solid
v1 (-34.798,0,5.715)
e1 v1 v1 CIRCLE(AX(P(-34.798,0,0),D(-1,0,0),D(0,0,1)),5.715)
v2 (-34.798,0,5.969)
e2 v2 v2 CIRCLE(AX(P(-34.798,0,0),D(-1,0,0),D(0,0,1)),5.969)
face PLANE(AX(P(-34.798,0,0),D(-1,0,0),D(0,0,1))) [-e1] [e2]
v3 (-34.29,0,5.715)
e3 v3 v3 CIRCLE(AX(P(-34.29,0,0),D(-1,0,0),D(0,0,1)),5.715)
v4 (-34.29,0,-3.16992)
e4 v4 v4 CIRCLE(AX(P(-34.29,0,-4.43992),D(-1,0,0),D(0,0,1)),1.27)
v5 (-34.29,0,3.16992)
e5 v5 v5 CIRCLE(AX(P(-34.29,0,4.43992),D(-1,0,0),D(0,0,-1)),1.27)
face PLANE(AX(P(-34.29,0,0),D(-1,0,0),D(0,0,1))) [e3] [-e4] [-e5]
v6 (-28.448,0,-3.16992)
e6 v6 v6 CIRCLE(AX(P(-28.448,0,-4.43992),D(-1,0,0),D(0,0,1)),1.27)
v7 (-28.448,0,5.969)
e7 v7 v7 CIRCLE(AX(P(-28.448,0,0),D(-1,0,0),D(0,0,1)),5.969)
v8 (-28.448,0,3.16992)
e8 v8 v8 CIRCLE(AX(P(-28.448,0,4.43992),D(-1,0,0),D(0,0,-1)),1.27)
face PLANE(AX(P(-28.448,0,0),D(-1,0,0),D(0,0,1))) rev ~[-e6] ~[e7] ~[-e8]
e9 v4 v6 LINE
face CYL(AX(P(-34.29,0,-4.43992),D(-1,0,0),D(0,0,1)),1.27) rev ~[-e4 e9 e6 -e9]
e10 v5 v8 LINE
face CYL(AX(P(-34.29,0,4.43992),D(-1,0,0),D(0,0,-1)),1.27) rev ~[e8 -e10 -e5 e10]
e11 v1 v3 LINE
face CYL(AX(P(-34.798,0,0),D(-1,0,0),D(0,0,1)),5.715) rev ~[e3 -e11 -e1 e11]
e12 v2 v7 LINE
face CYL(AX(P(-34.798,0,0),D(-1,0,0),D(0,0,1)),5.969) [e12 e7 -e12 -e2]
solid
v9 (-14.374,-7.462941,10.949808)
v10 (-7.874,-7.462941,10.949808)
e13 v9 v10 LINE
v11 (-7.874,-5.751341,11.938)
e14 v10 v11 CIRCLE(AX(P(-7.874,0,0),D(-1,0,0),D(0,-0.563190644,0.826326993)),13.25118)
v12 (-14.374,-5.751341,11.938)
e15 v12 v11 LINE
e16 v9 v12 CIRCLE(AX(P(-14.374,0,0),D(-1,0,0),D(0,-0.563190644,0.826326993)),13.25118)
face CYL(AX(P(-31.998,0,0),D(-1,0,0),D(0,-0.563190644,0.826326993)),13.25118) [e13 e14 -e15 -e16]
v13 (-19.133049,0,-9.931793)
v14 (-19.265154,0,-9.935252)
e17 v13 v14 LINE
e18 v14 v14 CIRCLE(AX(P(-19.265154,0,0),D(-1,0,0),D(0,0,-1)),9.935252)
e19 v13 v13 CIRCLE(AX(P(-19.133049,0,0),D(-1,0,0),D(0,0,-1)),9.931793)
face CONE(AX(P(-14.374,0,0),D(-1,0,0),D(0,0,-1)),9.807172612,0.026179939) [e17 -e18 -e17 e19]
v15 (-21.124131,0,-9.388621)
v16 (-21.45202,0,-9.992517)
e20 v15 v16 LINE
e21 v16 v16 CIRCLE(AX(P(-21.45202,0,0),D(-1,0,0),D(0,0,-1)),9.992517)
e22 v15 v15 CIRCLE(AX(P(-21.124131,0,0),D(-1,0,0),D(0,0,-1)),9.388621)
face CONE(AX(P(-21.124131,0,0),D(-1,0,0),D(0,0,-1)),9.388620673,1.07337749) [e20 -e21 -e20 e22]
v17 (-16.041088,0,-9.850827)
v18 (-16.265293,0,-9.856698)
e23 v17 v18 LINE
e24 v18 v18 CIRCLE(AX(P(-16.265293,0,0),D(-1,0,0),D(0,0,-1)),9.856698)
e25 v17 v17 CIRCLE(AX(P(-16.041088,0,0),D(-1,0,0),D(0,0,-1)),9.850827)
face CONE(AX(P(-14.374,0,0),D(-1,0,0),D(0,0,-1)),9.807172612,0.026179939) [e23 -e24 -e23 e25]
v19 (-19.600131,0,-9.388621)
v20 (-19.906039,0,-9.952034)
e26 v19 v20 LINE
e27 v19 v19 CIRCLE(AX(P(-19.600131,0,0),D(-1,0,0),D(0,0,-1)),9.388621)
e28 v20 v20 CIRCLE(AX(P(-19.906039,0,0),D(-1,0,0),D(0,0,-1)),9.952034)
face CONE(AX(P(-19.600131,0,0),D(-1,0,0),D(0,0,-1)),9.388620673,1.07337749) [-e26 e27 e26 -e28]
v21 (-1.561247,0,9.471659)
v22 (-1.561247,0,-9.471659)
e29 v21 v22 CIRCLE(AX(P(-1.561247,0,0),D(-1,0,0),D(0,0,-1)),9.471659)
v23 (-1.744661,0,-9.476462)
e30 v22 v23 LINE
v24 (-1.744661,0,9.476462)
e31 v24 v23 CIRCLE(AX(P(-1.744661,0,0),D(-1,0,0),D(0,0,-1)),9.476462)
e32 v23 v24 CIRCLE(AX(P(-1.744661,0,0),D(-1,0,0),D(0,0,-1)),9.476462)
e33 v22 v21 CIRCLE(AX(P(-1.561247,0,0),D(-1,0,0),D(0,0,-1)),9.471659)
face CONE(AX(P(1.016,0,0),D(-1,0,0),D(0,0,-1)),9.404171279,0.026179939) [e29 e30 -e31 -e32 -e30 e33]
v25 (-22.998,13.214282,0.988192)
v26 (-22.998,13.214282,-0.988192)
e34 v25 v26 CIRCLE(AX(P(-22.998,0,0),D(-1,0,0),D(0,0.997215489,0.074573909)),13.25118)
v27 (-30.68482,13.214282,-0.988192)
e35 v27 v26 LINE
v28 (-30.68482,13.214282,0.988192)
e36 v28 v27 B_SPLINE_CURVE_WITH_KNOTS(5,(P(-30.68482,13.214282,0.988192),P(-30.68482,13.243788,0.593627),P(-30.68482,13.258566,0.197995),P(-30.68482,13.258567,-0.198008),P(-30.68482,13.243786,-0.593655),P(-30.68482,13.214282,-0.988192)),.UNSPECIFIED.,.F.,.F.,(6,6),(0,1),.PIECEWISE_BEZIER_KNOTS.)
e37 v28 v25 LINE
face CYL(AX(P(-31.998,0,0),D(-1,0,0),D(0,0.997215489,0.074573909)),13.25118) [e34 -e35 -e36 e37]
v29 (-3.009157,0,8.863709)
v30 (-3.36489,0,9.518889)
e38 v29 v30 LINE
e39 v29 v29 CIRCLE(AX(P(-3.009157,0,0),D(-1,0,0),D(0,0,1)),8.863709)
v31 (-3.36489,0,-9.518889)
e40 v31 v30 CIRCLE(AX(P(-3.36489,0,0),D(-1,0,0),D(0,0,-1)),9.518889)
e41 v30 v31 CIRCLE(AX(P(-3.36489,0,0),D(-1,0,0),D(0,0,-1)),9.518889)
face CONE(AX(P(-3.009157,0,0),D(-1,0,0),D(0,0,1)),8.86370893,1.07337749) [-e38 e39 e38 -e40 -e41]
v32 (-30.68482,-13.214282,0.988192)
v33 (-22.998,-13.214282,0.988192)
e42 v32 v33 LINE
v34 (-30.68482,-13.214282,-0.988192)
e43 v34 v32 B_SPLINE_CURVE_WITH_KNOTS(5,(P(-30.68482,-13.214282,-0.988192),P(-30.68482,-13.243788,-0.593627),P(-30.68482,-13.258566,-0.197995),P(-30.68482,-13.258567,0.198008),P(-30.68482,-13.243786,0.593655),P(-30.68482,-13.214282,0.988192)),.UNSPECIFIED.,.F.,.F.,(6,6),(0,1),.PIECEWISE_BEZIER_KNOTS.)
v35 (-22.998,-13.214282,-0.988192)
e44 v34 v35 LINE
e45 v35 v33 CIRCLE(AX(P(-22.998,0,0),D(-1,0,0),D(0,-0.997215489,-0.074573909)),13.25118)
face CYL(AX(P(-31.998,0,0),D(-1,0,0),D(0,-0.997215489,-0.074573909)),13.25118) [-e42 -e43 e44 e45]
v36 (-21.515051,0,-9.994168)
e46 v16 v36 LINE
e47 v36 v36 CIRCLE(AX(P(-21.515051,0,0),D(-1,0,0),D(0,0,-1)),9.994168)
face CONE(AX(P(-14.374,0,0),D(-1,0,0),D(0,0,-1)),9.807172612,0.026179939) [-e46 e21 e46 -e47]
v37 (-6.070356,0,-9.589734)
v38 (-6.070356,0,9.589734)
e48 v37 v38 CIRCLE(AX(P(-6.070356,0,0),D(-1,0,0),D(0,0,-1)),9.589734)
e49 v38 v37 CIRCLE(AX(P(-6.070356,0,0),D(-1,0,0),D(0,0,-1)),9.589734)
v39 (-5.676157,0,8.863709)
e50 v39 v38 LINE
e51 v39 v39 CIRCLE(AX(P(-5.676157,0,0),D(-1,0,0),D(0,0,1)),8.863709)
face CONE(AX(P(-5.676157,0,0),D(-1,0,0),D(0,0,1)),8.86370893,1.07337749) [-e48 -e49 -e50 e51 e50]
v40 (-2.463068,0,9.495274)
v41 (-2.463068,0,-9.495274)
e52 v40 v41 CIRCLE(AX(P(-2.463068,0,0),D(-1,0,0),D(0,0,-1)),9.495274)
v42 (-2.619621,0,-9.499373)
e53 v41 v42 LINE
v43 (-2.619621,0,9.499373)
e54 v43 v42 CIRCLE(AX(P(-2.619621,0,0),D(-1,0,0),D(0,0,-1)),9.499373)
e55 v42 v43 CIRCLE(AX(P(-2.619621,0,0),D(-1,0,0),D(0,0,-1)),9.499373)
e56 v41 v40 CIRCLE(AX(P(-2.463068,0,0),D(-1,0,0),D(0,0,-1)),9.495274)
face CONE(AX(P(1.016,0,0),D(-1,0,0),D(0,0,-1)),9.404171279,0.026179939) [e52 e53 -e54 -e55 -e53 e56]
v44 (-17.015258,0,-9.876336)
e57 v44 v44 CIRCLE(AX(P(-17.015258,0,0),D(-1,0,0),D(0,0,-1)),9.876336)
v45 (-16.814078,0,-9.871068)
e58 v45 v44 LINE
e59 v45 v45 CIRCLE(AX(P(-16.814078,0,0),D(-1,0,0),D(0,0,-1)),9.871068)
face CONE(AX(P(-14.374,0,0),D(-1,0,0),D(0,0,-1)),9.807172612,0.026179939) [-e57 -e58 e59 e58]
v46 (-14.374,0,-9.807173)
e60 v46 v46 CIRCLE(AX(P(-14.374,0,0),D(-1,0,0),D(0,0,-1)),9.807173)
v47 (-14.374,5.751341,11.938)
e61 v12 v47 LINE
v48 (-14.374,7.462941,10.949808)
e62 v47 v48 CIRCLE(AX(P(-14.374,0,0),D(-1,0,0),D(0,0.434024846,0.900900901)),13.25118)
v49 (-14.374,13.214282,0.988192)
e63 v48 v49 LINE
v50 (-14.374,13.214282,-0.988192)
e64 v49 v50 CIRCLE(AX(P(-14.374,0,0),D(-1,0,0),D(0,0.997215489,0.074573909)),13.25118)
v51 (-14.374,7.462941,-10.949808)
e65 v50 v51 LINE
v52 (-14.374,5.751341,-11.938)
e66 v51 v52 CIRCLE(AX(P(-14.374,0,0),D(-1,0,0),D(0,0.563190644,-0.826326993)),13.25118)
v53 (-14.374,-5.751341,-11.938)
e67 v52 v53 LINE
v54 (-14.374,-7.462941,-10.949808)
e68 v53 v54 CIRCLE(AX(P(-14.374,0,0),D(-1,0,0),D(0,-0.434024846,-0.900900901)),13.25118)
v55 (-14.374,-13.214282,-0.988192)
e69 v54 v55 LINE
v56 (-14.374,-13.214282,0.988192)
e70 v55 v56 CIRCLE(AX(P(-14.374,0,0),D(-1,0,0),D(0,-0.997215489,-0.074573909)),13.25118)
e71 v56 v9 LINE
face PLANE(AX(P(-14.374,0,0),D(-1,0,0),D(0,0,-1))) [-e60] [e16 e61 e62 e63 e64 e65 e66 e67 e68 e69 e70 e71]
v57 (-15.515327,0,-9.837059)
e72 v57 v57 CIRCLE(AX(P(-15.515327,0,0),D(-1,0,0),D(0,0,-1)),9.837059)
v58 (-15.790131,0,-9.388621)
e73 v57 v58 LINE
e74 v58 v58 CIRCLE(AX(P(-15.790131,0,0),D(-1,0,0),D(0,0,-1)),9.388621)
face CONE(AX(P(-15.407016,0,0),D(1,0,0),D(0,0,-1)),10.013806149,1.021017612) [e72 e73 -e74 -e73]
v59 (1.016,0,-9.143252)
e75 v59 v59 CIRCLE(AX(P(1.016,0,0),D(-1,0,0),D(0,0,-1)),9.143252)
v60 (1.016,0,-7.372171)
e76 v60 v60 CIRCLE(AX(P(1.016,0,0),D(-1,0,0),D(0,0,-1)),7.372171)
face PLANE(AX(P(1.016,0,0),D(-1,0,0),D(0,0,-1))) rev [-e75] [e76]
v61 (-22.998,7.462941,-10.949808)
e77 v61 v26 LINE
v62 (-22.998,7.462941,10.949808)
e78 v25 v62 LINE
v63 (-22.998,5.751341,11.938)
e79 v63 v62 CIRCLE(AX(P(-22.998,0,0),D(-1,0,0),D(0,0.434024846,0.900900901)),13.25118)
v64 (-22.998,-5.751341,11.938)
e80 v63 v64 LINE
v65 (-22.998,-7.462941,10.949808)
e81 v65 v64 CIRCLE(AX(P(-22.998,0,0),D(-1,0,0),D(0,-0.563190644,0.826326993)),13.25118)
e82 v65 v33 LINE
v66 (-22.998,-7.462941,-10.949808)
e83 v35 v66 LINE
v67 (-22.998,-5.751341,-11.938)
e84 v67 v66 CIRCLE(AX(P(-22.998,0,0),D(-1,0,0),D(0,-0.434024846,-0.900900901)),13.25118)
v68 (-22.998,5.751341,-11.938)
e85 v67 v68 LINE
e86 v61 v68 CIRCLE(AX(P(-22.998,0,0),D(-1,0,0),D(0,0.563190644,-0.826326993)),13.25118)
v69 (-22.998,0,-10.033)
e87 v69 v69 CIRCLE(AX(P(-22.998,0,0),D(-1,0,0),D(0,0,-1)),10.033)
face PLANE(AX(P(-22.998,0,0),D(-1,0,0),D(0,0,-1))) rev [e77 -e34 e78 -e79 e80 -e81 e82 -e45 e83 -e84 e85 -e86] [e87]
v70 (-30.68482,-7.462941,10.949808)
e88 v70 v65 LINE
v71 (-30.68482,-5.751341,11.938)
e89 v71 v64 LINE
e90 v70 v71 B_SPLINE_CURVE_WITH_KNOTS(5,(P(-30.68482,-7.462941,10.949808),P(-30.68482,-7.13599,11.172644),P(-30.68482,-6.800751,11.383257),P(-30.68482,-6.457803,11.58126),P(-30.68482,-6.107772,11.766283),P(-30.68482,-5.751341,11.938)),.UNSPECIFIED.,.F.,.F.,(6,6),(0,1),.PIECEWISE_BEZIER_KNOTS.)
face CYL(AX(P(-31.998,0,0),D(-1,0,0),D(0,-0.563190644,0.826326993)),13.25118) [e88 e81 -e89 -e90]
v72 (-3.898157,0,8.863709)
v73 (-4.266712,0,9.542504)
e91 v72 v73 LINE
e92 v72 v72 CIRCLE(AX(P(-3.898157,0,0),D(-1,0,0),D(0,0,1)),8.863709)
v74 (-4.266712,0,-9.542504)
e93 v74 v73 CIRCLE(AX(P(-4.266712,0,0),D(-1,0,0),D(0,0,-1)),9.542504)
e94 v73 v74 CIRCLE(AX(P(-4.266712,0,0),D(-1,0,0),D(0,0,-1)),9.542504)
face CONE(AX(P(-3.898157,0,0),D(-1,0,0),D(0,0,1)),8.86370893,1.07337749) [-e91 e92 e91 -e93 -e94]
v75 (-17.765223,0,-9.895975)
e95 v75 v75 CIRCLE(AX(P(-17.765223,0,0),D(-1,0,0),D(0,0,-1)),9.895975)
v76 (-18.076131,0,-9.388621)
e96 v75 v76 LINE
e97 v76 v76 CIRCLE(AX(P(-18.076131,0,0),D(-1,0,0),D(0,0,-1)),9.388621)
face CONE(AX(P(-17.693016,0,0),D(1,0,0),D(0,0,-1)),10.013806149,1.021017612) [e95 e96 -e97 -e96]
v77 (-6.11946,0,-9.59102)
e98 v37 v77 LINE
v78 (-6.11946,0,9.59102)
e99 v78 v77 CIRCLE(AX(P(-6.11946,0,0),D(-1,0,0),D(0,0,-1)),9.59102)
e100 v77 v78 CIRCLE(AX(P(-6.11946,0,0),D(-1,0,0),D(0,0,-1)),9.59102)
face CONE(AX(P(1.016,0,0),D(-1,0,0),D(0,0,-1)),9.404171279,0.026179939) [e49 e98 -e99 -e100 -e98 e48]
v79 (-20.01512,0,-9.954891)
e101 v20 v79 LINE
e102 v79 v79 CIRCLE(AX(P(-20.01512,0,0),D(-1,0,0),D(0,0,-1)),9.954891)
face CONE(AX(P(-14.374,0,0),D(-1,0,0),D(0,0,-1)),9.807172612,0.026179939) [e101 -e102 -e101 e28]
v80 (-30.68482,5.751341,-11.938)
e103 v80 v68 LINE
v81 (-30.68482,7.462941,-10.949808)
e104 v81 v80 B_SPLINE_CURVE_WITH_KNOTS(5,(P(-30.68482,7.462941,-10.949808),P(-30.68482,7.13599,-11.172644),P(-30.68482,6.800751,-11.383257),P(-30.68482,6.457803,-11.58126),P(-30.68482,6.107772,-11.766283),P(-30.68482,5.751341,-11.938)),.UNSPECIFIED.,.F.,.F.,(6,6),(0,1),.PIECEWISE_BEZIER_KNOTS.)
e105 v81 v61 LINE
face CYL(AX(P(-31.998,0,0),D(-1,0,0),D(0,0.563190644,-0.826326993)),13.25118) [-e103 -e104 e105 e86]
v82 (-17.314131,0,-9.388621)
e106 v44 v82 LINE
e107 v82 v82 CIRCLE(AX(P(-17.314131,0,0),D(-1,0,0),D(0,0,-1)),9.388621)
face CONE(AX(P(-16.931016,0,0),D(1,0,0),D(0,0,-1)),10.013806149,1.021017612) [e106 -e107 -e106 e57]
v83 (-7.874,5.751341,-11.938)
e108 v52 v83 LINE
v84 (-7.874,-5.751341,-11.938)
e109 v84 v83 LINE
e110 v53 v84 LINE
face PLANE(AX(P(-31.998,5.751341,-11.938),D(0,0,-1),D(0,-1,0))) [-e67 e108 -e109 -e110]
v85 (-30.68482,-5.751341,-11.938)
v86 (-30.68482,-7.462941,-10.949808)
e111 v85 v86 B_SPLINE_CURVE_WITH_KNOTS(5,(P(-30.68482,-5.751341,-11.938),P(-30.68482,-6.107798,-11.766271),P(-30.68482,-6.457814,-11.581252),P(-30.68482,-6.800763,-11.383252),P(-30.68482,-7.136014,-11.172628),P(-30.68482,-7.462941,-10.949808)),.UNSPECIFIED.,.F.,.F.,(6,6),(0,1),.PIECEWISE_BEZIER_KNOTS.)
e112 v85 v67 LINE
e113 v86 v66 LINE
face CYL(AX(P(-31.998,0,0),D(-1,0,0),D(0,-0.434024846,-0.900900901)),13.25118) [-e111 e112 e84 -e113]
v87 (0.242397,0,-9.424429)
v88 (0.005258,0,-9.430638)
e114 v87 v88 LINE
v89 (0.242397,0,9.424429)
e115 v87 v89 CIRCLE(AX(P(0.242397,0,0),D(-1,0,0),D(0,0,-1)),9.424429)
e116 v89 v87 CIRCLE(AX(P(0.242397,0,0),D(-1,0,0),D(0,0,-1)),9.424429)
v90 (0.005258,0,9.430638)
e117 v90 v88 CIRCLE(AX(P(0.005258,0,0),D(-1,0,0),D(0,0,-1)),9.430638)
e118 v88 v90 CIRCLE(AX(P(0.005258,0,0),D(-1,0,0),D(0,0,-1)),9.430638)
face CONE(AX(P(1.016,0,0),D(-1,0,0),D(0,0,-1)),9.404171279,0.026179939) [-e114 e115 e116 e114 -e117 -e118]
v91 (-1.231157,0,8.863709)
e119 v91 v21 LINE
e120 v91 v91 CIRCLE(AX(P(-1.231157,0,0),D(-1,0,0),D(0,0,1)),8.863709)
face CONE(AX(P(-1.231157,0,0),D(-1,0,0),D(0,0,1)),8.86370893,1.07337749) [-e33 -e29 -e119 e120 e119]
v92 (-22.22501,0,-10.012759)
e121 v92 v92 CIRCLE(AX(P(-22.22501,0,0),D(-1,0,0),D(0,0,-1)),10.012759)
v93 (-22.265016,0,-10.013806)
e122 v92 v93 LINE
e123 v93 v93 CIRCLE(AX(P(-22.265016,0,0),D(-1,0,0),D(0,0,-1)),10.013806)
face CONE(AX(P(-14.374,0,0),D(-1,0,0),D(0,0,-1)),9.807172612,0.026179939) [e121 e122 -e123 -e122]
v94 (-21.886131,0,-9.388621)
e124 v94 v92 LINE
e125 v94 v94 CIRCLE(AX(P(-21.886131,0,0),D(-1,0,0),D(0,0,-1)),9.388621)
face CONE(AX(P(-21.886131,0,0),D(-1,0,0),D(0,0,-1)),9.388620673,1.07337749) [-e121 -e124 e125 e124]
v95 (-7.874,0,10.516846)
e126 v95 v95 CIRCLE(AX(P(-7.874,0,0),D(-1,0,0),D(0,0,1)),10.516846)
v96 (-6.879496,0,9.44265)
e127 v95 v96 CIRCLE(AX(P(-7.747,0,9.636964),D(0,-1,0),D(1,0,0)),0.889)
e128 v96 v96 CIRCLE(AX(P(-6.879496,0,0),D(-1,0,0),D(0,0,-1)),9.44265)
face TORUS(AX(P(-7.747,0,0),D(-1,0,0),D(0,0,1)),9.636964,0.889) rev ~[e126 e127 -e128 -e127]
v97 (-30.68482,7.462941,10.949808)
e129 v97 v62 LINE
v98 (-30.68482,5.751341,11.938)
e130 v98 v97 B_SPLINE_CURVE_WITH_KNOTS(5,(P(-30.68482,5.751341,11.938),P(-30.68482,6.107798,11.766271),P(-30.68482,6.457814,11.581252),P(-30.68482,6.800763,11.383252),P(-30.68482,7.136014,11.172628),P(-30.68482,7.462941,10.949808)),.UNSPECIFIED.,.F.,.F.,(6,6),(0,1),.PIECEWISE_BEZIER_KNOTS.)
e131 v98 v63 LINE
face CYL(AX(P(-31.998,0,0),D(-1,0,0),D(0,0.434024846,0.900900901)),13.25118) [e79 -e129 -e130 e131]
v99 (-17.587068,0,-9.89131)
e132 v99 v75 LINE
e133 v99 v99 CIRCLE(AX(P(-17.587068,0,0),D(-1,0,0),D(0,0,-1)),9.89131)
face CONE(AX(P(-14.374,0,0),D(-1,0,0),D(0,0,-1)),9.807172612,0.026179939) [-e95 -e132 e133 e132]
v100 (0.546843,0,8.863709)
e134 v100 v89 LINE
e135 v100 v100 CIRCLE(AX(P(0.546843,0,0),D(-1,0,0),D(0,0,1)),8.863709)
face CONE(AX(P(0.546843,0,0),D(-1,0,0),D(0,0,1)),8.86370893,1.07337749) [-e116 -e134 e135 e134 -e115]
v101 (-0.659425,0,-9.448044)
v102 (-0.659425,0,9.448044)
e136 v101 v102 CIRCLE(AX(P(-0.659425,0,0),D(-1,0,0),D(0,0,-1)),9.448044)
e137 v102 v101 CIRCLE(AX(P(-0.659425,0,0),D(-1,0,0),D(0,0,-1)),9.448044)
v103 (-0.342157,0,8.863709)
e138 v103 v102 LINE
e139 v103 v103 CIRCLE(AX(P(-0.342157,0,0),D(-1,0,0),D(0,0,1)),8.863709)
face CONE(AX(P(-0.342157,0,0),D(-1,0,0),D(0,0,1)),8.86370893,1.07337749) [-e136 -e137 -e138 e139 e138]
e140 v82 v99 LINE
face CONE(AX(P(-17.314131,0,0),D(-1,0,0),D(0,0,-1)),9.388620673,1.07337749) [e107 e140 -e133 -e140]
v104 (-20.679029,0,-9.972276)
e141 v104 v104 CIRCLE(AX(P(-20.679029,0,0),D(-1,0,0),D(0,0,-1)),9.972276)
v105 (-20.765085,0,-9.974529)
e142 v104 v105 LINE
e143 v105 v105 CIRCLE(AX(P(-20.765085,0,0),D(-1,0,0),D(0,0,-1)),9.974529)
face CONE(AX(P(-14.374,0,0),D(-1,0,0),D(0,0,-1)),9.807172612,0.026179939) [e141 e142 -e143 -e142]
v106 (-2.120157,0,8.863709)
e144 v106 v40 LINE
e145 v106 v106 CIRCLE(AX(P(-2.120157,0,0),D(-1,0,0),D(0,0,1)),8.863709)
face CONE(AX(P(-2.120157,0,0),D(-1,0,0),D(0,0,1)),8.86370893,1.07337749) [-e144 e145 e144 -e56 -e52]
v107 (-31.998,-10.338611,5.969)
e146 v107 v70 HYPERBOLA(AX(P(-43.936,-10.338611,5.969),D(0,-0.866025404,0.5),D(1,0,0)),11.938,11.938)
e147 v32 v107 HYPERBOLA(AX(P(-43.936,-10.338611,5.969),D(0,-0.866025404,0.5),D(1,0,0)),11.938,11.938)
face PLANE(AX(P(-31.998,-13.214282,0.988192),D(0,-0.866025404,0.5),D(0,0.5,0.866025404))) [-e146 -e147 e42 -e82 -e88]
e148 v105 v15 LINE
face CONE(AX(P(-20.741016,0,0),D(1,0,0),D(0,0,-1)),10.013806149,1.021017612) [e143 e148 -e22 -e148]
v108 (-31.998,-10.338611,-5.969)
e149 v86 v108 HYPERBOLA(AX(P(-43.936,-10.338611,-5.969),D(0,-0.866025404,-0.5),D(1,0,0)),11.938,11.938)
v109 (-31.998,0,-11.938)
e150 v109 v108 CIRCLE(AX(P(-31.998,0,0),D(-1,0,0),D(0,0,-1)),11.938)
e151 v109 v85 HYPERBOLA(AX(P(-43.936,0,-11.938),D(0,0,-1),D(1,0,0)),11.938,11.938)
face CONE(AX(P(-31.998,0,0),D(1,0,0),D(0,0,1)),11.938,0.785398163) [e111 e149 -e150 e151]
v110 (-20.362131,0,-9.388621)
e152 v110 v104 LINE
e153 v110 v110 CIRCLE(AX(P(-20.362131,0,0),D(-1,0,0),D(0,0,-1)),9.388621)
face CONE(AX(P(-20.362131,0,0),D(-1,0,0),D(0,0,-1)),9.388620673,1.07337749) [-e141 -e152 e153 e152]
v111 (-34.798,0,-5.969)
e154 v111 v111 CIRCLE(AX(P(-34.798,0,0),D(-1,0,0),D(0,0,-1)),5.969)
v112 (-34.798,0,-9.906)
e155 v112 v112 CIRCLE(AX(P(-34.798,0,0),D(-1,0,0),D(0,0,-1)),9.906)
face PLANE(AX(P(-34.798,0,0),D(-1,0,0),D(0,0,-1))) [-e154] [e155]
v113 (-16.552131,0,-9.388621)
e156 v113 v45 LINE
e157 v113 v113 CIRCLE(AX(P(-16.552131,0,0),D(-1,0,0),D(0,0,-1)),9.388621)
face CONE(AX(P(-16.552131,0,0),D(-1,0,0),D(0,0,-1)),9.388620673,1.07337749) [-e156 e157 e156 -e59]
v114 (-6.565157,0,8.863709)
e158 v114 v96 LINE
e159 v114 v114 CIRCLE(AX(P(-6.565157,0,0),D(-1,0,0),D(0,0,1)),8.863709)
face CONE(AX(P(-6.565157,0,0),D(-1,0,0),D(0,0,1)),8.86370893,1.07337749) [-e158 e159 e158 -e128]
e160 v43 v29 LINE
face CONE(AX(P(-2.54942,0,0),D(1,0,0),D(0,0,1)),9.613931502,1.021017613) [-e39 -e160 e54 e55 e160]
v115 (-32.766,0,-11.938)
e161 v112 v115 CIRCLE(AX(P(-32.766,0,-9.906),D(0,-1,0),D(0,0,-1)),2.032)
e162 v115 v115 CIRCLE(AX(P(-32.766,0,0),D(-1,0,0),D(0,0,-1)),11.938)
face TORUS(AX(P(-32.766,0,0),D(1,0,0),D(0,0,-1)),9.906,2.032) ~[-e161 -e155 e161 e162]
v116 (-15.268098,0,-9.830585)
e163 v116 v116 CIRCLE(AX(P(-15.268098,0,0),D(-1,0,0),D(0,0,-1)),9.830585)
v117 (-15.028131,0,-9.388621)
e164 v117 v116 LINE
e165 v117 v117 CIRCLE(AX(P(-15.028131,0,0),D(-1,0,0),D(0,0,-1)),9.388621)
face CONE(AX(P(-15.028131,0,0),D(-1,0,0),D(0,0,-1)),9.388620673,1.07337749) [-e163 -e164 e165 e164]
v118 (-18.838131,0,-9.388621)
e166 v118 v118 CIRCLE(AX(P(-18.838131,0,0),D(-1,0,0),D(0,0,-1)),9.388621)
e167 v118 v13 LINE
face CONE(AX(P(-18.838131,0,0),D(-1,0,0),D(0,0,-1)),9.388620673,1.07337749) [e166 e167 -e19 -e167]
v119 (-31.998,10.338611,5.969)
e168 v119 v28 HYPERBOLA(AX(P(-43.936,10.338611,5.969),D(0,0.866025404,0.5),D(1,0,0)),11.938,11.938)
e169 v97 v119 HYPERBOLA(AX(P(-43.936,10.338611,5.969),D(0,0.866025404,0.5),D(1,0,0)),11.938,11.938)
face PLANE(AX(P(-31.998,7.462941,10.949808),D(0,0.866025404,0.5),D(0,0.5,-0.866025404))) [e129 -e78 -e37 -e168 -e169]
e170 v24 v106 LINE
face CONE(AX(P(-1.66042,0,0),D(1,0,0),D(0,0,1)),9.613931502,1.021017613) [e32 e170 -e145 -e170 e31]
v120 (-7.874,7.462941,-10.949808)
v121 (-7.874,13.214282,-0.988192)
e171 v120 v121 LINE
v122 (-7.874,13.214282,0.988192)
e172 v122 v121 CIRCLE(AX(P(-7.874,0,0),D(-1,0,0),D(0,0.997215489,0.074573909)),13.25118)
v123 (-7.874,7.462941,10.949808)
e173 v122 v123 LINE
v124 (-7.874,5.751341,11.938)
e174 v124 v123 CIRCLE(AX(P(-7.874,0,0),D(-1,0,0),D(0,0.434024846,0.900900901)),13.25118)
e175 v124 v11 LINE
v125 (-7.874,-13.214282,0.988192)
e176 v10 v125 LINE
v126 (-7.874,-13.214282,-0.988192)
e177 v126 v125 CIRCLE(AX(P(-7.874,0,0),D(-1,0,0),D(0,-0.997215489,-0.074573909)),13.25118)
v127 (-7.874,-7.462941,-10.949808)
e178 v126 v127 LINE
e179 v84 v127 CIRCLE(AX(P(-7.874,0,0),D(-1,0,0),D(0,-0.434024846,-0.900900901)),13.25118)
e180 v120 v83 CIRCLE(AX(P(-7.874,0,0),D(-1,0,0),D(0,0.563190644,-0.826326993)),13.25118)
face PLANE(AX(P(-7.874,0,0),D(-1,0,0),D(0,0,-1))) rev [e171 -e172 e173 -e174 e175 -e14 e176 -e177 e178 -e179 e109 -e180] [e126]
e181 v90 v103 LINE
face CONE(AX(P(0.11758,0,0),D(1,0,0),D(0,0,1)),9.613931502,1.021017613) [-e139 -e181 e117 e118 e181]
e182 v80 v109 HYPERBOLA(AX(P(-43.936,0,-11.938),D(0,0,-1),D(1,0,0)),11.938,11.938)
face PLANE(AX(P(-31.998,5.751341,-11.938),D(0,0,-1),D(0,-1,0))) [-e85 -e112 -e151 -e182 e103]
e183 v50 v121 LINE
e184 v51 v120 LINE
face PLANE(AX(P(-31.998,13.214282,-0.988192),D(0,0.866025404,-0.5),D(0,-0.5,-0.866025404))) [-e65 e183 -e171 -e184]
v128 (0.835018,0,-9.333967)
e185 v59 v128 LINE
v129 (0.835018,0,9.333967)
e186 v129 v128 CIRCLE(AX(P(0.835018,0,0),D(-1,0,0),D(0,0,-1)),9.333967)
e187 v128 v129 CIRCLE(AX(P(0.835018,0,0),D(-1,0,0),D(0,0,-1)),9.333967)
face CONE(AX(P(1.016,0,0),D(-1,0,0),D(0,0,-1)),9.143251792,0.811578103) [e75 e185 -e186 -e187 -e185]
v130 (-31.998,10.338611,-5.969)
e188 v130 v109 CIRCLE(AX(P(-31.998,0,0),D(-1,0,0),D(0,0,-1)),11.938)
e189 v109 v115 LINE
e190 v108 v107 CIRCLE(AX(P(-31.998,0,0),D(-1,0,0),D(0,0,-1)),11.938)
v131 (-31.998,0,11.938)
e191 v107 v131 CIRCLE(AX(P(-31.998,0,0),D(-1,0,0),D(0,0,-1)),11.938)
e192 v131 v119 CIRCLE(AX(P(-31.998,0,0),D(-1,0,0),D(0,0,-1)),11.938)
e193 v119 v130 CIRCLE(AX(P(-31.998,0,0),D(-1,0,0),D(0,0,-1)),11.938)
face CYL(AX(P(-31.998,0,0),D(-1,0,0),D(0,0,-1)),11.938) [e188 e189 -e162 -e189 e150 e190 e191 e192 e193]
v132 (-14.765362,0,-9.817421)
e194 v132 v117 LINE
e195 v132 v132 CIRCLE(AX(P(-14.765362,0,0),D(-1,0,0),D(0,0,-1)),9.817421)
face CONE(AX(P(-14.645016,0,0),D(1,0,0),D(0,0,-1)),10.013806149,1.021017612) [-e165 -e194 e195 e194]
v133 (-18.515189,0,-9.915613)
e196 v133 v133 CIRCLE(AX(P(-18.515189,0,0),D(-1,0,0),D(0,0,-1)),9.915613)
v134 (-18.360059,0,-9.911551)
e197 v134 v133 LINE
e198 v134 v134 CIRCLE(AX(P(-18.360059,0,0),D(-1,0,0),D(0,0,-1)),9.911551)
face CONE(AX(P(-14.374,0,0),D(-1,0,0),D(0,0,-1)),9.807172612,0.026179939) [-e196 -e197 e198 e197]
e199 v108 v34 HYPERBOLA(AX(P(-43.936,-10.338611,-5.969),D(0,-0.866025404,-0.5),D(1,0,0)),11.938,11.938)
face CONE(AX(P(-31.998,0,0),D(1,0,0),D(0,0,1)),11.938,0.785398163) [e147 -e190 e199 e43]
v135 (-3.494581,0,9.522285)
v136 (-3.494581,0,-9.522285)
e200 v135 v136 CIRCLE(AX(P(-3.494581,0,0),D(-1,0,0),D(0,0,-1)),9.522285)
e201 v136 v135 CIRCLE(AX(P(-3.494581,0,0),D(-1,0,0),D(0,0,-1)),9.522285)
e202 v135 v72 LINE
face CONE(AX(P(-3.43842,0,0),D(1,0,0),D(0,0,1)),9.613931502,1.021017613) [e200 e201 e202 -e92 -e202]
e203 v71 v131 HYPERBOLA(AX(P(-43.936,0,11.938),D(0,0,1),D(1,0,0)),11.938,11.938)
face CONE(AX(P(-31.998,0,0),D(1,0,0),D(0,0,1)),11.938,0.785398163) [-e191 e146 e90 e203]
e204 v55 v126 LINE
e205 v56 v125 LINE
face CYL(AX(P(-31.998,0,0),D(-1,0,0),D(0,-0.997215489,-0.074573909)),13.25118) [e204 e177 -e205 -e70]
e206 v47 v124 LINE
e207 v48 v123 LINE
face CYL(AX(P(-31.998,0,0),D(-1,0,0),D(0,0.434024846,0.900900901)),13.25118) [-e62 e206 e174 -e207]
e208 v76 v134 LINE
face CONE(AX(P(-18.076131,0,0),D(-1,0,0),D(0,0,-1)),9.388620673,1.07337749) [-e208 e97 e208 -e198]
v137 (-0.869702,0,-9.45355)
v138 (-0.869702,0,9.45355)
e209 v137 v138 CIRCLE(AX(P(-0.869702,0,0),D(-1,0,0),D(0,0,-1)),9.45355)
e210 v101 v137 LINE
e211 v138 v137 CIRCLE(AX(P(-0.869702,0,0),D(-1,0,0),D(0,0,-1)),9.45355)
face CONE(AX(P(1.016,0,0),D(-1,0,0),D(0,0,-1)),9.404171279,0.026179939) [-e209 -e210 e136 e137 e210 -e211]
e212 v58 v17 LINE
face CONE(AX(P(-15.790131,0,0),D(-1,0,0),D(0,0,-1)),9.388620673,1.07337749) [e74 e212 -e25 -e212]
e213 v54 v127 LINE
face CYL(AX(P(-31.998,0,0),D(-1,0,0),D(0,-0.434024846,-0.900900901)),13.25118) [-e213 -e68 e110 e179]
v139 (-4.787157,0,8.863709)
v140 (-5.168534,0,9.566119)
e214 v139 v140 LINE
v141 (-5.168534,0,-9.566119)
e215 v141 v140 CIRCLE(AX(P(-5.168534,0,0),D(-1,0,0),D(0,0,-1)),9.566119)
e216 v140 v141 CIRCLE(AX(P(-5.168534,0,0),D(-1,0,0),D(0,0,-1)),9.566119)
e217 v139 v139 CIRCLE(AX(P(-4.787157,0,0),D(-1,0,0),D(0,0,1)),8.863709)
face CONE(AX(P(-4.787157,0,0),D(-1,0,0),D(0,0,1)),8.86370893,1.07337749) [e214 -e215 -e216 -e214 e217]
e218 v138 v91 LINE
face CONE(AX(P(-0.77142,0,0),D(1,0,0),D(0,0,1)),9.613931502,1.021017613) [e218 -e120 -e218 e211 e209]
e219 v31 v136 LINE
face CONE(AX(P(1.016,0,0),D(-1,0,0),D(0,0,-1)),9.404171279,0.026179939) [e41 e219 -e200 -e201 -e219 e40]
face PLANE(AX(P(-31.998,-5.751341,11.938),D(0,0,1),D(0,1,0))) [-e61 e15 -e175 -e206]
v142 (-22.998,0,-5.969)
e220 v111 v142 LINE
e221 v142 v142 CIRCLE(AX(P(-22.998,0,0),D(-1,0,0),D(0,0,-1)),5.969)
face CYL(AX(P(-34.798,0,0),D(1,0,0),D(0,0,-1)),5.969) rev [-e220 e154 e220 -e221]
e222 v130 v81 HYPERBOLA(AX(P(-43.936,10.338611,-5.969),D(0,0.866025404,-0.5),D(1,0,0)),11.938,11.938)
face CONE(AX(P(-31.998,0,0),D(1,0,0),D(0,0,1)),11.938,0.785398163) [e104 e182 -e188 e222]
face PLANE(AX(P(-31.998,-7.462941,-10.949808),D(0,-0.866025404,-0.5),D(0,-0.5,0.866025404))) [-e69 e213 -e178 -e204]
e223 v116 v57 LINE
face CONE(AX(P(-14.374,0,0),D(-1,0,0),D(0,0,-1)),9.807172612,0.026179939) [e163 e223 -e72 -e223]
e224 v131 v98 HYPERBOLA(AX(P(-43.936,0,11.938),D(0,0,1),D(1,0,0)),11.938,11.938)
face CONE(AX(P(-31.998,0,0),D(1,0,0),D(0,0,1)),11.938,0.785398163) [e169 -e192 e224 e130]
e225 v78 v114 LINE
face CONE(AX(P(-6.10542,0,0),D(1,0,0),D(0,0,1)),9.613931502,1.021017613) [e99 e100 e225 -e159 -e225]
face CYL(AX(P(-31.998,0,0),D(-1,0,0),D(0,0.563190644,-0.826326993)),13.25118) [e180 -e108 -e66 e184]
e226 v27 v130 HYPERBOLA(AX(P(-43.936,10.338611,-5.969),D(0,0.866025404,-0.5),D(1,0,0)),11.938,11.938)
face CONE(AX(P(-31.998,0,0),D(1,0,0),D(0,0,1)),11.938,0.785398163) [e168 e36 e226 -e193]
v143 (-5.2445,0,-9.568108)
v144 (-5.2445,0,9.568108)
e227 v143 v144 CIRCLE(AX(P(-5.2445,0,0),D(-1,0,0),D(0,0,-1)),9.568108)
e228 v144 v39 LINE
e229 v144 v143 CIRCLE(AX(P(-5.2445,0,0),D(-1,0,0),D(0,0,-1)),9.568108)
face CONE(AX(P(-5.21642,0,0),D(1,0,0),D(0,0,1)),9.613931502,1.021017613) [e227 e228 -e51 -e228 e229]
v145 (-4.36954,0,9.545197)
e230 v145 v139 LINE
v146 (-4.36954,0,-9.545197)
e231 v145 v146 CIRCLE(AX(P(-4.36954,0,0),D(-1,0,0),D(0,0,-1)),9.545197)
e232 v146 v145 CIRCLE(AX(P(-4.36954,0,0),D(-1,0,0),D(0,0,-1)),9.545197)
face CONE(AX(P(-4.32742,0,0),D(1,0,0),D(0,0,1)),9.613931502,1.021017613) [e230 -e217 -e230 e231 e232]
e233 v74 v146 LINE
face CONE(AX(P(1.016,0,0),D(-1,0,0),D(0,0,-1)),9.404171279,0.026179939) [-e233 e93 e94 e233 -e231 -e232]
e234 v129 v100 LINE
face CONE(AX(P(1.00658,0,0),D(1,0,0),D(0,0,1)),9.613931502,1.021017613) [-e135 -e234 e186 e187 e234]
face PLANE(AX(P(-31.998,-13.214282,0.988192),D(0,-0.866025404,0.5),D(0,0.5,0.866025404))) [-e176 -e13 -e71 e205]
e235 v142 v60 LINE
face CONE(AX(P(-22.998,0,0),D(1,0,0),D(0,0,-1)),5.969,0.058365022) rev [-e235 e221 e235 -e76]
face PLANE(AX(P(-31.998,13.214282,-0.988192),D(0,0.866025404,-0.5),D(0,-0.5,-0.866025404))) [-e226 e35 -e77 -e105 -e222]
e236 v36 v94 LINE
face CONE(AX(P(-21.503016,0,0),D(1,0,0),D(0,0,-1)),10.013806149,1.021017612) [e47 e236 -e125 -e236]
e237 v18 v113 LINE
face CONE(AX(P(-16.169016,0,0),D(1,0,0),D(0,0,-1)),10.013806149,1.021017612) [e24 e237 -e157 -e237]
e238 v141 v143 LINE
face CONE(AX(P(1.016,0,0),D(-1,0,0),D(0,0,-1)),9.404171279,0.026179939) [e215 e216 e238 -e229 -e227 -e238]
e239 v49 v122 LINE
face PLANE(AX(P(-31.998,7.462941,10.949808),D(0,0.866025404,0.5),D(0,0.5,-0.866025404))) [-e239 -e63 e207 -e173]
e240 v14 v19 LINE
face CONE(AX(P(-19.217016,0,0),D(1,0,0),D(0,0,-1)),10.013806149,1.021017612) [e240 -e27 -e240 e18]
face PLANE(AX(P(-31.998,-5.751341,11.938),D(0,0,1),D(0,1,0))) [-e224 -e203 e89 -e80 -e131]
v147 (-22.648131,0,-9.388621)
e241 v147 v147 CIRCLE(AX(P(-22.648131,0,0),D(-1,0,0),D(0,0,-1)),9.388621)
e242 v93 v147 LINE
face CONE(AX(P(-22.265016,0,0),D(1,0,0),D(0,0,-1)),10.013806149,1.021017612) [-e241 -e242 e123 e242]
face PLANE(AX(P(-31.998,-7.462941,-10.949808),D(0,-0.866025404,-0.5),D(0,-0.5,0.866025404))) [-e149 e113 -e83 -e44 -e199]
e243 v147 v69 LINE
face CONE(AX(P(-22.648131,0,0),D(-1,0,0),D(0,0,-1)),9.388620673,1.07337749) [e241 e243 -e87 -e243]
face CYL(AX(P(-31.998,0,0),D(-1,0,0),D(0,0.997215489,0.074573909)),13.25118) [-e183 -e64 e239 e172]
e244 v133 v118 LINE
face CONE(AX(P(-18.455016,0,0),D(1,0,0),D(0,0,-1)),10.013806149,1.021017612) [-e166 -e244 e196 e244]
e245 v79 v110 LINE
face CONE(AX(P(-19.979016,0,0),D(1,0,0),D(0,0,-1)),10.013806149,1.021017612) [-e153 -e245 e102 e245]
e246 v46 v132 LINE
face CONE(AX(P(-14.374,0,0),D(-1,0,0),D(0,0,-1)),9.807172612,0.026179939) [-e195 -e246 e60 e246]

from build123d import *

# Parameters (mm, degrees)
SKETCH12_OUTSIDE_W = 65.04
SKETCH12_OUTSIDE_H = 65.04
CUT_EXTRUDE2_DEPTH = 34.014
FILLET4_R          = 2.032
SKETCH19_OUTSIDE_W = 39.986
SKETCH19_OUTSIDE_H = 42.612
SKETCH19_OUTSIDE_R = 11.938
CUT_EXTRUDE3_DEPTH = 1.999996
CUT_EXTRUDE3_DRAFT = -45
CHAMFER1_SIZE      = 0.260919487
CHAMFER1_SIZE2     = 0.254
SKETCH21_R         = 5.969
PLUG_DEPTH         = 6.35
SKETCH22_R         = 5.715
CUT_EXTRUDE4_DEPTH = 0.508
SKETCH27_R         = 1.27
PLUGHOLES_DEPTH    = 36.306
CIRPATTERN1_COUNT  = 2
LPATTERN1_COUNT    = 11
LPATTERN1_PITCH    = 0.762
LPATTERN2_COUNT    = 10
LPATTERN2_PITCH    = 0.889
SKETCH32_R         = 0.889


with BuildPart() as part:
    # Sketch10 → Revolve2 (revolve)
    with BuildSketch(Plane.XY, mode=Mode.PRIVATE) as revolve2_sk:
        Polygon((-34.798, 5.969), (-22.998, 5.969), (1.016, 7.372171279), (1.016, 9.404171279), (-7.874, 9.636964122), (-7.874, 23.876), (-14.374, 23.876), (-14.374, 9.807172612), (-22.998, 10.033), (-22.998, 23.876), (-31.998, 23.876), (-31.998, 11.938), (-34.798, 11.938), align=None)
    revolve(revolve2_sk.sketch.rotate(Axis((0, 0, 0), (-1, 0, 0)), 90), axis=Axis((0, 0, 0), (-1, 0, 0)))  # turned: the seam where the file's is

    # Sketch12 outside → Cut-Extrude2 (cut, through all)
    with BuildSketch(Plane.ZY.offset(31.998)):
        Rectangle(SKETCH12_OUTSIDE_W, SKETCH12_OUTSIDE_H)
        with BuildLine():
            Line((-0.98819228, 13.214281948), (-10.94980772, 7.462940592))
            ThreePointArc((-10.94980772, 7.462940592), (-11.47585851, 6.62559), (-11.938, 5.751341356))
            Line((-11.938, 5.751341356), (-11.938, -5.751341356))
            ThreePointArc((-11.938, -5.751341356), (-11.47585851, -6.62559), (-10.94980772, -7.462940592))
            Line((-10.94980772, -7.462940592), (-0.98819228, -13.214281948))
            ThreePointArc((-0.98819228, -13.214281948), (0, -13.25118), (0.98819228, -13.214281948))
            Line((0.98819228, -13.214281948), (10.94980772, -7.462940592))
            ThreePointArc((10.94980772, -7.462940592), (11.47585851, -6.62559), (11.938, -5.751341356))
            Line((11.938, -5.751341356), (11.938, 5.751341356))
            ThreePointArc((11.938, 5.751341356), (11.47585851, 6.62559), (10.94980772, 7.462940592))
            Line((10.94980772, 7.462940592), (0.98819228, 13.214281948))
            ThreePointArc((0.98819228, 13.214281948), (0, 13.25118), (-0.98819228, 13.214281948))
        make_face(mode=Mode.SUBTRACT)
    extrude(amount=-CUT_EXTRUDE2_DEPTH, mode=Mode.SUBTRACT)

    # Fillet4
    fillet4_edges = [part.edges().sort_by_distance(p)[0] for p in [
        (-34.798, 0, 11.938),
    ]]
    fillet(fillet4_edges, radius=FILLET4_R)


with BuildPart() as cut_extrude3_tool:
    # Sketch19 outside → Cut-Extrude3 (with draft: the straight prism first)
    with BuildSketch(Plane.ZY.offset(31.998)):
        Rectangle(SKETCH19_OUTSIDE_W, SKETCH19_OUTSIDE_H)
        Circle(SKETCH19_OUTSIDE_R, mode=Mode.SUBTRACT)
    extrude(amount=-CUT_EXTRUDE3_DEPTH)
    # Cut-Extrude3: the draft: its side faces are tilted about the plane it starts from
    cut_extrude3_sides = [cut_extrude3_tool.faces().sort_by_distance(p)[0] for p in [
        (-30.998002, -21.306, 0),
        (-30.998002, 0, 19.993),
        (-30.998002, 21.306, 0),
        (-30.998002, 0, -19.993),
        (-30.998002, 0, -11.938),
    ]]
    draft(cut_extrude3_sides, Plane.ZY.offset(31.998), CUT_EXTRUDE3_DRAFT)


with BuildPart() as part_1:
    add(part.part)

    # Cut-Extrude3: cut by cut_extrude3_tool
    add(cut_extrude3_tool.part, mode=Mode.SUBTRACT)

    # Chamfer1
    chamfer1_edges = [part_1.edges().sort_by_distance(p)[0] for p in [
        (1.016, 0, 9.404171279),
    ]]
    chamfer1_side = [part_1.faces().sort_by_distance(p)[0] for p in [
        (1.016, 0, 7.638161411),
    ]]
    chamfer(chamfer1_edges, length=CHAMFER1_SIZE, length2=CHAMFER1_SIZE2, reference=chamfer1_side[0])

    # Sketch29 → Cut-Revolve1 (revolve, cut)
    with BuildSketch(Plane.XY, mode=Mode.PRIVATE) as cut_revolve1_sk:
        Polygon((-22.998, 10.033), (-22.265016419, 10.013806149), (-22.648130572, 9.388620673), align=None)
    cut_revolve1 = revolve(cut_revolve1_sk.sketch.rotate(Axis((0, 0, 0), (-1, 0, 0)), 90), axis=Axis((0, 0, 0), (-1, 0, 0)), mode=Mode.SUBTRACT)  # turned: the seam where the file's is

    # LPattern1: Cut-Revolve1 ×11
    with Locations(*[(i * LPATTERN1_PITCH, 0, 0) for i in range(1, LPATTERN1_COUNT)]):
        add(cut_revolve1, mode=Mode.SUBTRACT)

    # Sketch30 → Cut-Revolve2 (revolve, cut)
    with BuildSketch(Plane.XY, mode=Mode.PRIVATE) as cut_revolve2_sk:
        Polygon((-7.874, 9.636964122), (-6.994419703, 9.613931502), (-7.454156686, 8.86370893), align=None)
    cut_revolve2 = revolve(cut_revolve2_sk.sketch.rotate(Axis((0, 0, 0), (-1, 0, 0)), 270), axis=Axis((0, 0, 0), (-1, 0, 0)), mode=Mode.SUBTRACT)  # turned: the seam where the file's is

    # LPattern2: Cut-Revolve2 ×10
    with Locations(*[(i * LPATTERN2_PITCH, 0, 0) for i in range(1, LPATTERN2_COUNT)]):
        add(cut_revolve2, mode=Mode.SUBTRACT)

    # Sketch32 → Cut-Revolve3 (revolve, cut)
    with BuildSketch(Plane.XY, mode=Mode.PRIVATE) as cut_revolve3_sk:
        with Locations((-7.747, 9.636964122)):
            Circle(SKETCH32_R)
    revolve(cut_revolve3_sk.sketch.rotate(Axis((0, 0, 0), (-1, 0, 0)), 270), axis=Axis((0, 0, 0), (-1, 0, 0)), mode=Mode.SUBTRACT)  # turned: the seam where the file's is


with BuildPart() as body_2:
    # Sketch21 → plug (new body)
    with BuildSketch(Plane.ZY.offset(34.798)):
        Circle(SKETCH21_R)
    extrude(amount=-PLUG_DEPTH)

    # Sketch22 → Cut-Extrude4 (cut)
    with BuildSketch(Plane.ZY.offset(34.798)):
        Circle(SKETCH22_R)
    extrude(amount=-CUT_EXTRUDE4_DEPTH, mode=Mode.SUBTRACT)

    # Sketch27 → plugholes (cut, through all)
    with BuildSketch(Plane.ZY.offset(34.29)):
        with Locations((-4.43992, 0)):
            Circle(SKETCH27_R)
    plugholes = extrude(amount=-PLUGHOLES_DEPTH, mode=Mode.SUBTRACT)

    # CirPattern1: plugholes ×2 about axis
    cirpattern1_axis = Axis((0, 0, 0), (1, 0, 0))
    for i in range(1, CIRPATTERN1_COUNT):
        add(plugholes.rotate(cirpattern1_axis, i * 360 / CIRPATTERN1_COUNT), mode=Mode.SUBTRACT)


solid = Compound([part_1.part, body_2.part])
